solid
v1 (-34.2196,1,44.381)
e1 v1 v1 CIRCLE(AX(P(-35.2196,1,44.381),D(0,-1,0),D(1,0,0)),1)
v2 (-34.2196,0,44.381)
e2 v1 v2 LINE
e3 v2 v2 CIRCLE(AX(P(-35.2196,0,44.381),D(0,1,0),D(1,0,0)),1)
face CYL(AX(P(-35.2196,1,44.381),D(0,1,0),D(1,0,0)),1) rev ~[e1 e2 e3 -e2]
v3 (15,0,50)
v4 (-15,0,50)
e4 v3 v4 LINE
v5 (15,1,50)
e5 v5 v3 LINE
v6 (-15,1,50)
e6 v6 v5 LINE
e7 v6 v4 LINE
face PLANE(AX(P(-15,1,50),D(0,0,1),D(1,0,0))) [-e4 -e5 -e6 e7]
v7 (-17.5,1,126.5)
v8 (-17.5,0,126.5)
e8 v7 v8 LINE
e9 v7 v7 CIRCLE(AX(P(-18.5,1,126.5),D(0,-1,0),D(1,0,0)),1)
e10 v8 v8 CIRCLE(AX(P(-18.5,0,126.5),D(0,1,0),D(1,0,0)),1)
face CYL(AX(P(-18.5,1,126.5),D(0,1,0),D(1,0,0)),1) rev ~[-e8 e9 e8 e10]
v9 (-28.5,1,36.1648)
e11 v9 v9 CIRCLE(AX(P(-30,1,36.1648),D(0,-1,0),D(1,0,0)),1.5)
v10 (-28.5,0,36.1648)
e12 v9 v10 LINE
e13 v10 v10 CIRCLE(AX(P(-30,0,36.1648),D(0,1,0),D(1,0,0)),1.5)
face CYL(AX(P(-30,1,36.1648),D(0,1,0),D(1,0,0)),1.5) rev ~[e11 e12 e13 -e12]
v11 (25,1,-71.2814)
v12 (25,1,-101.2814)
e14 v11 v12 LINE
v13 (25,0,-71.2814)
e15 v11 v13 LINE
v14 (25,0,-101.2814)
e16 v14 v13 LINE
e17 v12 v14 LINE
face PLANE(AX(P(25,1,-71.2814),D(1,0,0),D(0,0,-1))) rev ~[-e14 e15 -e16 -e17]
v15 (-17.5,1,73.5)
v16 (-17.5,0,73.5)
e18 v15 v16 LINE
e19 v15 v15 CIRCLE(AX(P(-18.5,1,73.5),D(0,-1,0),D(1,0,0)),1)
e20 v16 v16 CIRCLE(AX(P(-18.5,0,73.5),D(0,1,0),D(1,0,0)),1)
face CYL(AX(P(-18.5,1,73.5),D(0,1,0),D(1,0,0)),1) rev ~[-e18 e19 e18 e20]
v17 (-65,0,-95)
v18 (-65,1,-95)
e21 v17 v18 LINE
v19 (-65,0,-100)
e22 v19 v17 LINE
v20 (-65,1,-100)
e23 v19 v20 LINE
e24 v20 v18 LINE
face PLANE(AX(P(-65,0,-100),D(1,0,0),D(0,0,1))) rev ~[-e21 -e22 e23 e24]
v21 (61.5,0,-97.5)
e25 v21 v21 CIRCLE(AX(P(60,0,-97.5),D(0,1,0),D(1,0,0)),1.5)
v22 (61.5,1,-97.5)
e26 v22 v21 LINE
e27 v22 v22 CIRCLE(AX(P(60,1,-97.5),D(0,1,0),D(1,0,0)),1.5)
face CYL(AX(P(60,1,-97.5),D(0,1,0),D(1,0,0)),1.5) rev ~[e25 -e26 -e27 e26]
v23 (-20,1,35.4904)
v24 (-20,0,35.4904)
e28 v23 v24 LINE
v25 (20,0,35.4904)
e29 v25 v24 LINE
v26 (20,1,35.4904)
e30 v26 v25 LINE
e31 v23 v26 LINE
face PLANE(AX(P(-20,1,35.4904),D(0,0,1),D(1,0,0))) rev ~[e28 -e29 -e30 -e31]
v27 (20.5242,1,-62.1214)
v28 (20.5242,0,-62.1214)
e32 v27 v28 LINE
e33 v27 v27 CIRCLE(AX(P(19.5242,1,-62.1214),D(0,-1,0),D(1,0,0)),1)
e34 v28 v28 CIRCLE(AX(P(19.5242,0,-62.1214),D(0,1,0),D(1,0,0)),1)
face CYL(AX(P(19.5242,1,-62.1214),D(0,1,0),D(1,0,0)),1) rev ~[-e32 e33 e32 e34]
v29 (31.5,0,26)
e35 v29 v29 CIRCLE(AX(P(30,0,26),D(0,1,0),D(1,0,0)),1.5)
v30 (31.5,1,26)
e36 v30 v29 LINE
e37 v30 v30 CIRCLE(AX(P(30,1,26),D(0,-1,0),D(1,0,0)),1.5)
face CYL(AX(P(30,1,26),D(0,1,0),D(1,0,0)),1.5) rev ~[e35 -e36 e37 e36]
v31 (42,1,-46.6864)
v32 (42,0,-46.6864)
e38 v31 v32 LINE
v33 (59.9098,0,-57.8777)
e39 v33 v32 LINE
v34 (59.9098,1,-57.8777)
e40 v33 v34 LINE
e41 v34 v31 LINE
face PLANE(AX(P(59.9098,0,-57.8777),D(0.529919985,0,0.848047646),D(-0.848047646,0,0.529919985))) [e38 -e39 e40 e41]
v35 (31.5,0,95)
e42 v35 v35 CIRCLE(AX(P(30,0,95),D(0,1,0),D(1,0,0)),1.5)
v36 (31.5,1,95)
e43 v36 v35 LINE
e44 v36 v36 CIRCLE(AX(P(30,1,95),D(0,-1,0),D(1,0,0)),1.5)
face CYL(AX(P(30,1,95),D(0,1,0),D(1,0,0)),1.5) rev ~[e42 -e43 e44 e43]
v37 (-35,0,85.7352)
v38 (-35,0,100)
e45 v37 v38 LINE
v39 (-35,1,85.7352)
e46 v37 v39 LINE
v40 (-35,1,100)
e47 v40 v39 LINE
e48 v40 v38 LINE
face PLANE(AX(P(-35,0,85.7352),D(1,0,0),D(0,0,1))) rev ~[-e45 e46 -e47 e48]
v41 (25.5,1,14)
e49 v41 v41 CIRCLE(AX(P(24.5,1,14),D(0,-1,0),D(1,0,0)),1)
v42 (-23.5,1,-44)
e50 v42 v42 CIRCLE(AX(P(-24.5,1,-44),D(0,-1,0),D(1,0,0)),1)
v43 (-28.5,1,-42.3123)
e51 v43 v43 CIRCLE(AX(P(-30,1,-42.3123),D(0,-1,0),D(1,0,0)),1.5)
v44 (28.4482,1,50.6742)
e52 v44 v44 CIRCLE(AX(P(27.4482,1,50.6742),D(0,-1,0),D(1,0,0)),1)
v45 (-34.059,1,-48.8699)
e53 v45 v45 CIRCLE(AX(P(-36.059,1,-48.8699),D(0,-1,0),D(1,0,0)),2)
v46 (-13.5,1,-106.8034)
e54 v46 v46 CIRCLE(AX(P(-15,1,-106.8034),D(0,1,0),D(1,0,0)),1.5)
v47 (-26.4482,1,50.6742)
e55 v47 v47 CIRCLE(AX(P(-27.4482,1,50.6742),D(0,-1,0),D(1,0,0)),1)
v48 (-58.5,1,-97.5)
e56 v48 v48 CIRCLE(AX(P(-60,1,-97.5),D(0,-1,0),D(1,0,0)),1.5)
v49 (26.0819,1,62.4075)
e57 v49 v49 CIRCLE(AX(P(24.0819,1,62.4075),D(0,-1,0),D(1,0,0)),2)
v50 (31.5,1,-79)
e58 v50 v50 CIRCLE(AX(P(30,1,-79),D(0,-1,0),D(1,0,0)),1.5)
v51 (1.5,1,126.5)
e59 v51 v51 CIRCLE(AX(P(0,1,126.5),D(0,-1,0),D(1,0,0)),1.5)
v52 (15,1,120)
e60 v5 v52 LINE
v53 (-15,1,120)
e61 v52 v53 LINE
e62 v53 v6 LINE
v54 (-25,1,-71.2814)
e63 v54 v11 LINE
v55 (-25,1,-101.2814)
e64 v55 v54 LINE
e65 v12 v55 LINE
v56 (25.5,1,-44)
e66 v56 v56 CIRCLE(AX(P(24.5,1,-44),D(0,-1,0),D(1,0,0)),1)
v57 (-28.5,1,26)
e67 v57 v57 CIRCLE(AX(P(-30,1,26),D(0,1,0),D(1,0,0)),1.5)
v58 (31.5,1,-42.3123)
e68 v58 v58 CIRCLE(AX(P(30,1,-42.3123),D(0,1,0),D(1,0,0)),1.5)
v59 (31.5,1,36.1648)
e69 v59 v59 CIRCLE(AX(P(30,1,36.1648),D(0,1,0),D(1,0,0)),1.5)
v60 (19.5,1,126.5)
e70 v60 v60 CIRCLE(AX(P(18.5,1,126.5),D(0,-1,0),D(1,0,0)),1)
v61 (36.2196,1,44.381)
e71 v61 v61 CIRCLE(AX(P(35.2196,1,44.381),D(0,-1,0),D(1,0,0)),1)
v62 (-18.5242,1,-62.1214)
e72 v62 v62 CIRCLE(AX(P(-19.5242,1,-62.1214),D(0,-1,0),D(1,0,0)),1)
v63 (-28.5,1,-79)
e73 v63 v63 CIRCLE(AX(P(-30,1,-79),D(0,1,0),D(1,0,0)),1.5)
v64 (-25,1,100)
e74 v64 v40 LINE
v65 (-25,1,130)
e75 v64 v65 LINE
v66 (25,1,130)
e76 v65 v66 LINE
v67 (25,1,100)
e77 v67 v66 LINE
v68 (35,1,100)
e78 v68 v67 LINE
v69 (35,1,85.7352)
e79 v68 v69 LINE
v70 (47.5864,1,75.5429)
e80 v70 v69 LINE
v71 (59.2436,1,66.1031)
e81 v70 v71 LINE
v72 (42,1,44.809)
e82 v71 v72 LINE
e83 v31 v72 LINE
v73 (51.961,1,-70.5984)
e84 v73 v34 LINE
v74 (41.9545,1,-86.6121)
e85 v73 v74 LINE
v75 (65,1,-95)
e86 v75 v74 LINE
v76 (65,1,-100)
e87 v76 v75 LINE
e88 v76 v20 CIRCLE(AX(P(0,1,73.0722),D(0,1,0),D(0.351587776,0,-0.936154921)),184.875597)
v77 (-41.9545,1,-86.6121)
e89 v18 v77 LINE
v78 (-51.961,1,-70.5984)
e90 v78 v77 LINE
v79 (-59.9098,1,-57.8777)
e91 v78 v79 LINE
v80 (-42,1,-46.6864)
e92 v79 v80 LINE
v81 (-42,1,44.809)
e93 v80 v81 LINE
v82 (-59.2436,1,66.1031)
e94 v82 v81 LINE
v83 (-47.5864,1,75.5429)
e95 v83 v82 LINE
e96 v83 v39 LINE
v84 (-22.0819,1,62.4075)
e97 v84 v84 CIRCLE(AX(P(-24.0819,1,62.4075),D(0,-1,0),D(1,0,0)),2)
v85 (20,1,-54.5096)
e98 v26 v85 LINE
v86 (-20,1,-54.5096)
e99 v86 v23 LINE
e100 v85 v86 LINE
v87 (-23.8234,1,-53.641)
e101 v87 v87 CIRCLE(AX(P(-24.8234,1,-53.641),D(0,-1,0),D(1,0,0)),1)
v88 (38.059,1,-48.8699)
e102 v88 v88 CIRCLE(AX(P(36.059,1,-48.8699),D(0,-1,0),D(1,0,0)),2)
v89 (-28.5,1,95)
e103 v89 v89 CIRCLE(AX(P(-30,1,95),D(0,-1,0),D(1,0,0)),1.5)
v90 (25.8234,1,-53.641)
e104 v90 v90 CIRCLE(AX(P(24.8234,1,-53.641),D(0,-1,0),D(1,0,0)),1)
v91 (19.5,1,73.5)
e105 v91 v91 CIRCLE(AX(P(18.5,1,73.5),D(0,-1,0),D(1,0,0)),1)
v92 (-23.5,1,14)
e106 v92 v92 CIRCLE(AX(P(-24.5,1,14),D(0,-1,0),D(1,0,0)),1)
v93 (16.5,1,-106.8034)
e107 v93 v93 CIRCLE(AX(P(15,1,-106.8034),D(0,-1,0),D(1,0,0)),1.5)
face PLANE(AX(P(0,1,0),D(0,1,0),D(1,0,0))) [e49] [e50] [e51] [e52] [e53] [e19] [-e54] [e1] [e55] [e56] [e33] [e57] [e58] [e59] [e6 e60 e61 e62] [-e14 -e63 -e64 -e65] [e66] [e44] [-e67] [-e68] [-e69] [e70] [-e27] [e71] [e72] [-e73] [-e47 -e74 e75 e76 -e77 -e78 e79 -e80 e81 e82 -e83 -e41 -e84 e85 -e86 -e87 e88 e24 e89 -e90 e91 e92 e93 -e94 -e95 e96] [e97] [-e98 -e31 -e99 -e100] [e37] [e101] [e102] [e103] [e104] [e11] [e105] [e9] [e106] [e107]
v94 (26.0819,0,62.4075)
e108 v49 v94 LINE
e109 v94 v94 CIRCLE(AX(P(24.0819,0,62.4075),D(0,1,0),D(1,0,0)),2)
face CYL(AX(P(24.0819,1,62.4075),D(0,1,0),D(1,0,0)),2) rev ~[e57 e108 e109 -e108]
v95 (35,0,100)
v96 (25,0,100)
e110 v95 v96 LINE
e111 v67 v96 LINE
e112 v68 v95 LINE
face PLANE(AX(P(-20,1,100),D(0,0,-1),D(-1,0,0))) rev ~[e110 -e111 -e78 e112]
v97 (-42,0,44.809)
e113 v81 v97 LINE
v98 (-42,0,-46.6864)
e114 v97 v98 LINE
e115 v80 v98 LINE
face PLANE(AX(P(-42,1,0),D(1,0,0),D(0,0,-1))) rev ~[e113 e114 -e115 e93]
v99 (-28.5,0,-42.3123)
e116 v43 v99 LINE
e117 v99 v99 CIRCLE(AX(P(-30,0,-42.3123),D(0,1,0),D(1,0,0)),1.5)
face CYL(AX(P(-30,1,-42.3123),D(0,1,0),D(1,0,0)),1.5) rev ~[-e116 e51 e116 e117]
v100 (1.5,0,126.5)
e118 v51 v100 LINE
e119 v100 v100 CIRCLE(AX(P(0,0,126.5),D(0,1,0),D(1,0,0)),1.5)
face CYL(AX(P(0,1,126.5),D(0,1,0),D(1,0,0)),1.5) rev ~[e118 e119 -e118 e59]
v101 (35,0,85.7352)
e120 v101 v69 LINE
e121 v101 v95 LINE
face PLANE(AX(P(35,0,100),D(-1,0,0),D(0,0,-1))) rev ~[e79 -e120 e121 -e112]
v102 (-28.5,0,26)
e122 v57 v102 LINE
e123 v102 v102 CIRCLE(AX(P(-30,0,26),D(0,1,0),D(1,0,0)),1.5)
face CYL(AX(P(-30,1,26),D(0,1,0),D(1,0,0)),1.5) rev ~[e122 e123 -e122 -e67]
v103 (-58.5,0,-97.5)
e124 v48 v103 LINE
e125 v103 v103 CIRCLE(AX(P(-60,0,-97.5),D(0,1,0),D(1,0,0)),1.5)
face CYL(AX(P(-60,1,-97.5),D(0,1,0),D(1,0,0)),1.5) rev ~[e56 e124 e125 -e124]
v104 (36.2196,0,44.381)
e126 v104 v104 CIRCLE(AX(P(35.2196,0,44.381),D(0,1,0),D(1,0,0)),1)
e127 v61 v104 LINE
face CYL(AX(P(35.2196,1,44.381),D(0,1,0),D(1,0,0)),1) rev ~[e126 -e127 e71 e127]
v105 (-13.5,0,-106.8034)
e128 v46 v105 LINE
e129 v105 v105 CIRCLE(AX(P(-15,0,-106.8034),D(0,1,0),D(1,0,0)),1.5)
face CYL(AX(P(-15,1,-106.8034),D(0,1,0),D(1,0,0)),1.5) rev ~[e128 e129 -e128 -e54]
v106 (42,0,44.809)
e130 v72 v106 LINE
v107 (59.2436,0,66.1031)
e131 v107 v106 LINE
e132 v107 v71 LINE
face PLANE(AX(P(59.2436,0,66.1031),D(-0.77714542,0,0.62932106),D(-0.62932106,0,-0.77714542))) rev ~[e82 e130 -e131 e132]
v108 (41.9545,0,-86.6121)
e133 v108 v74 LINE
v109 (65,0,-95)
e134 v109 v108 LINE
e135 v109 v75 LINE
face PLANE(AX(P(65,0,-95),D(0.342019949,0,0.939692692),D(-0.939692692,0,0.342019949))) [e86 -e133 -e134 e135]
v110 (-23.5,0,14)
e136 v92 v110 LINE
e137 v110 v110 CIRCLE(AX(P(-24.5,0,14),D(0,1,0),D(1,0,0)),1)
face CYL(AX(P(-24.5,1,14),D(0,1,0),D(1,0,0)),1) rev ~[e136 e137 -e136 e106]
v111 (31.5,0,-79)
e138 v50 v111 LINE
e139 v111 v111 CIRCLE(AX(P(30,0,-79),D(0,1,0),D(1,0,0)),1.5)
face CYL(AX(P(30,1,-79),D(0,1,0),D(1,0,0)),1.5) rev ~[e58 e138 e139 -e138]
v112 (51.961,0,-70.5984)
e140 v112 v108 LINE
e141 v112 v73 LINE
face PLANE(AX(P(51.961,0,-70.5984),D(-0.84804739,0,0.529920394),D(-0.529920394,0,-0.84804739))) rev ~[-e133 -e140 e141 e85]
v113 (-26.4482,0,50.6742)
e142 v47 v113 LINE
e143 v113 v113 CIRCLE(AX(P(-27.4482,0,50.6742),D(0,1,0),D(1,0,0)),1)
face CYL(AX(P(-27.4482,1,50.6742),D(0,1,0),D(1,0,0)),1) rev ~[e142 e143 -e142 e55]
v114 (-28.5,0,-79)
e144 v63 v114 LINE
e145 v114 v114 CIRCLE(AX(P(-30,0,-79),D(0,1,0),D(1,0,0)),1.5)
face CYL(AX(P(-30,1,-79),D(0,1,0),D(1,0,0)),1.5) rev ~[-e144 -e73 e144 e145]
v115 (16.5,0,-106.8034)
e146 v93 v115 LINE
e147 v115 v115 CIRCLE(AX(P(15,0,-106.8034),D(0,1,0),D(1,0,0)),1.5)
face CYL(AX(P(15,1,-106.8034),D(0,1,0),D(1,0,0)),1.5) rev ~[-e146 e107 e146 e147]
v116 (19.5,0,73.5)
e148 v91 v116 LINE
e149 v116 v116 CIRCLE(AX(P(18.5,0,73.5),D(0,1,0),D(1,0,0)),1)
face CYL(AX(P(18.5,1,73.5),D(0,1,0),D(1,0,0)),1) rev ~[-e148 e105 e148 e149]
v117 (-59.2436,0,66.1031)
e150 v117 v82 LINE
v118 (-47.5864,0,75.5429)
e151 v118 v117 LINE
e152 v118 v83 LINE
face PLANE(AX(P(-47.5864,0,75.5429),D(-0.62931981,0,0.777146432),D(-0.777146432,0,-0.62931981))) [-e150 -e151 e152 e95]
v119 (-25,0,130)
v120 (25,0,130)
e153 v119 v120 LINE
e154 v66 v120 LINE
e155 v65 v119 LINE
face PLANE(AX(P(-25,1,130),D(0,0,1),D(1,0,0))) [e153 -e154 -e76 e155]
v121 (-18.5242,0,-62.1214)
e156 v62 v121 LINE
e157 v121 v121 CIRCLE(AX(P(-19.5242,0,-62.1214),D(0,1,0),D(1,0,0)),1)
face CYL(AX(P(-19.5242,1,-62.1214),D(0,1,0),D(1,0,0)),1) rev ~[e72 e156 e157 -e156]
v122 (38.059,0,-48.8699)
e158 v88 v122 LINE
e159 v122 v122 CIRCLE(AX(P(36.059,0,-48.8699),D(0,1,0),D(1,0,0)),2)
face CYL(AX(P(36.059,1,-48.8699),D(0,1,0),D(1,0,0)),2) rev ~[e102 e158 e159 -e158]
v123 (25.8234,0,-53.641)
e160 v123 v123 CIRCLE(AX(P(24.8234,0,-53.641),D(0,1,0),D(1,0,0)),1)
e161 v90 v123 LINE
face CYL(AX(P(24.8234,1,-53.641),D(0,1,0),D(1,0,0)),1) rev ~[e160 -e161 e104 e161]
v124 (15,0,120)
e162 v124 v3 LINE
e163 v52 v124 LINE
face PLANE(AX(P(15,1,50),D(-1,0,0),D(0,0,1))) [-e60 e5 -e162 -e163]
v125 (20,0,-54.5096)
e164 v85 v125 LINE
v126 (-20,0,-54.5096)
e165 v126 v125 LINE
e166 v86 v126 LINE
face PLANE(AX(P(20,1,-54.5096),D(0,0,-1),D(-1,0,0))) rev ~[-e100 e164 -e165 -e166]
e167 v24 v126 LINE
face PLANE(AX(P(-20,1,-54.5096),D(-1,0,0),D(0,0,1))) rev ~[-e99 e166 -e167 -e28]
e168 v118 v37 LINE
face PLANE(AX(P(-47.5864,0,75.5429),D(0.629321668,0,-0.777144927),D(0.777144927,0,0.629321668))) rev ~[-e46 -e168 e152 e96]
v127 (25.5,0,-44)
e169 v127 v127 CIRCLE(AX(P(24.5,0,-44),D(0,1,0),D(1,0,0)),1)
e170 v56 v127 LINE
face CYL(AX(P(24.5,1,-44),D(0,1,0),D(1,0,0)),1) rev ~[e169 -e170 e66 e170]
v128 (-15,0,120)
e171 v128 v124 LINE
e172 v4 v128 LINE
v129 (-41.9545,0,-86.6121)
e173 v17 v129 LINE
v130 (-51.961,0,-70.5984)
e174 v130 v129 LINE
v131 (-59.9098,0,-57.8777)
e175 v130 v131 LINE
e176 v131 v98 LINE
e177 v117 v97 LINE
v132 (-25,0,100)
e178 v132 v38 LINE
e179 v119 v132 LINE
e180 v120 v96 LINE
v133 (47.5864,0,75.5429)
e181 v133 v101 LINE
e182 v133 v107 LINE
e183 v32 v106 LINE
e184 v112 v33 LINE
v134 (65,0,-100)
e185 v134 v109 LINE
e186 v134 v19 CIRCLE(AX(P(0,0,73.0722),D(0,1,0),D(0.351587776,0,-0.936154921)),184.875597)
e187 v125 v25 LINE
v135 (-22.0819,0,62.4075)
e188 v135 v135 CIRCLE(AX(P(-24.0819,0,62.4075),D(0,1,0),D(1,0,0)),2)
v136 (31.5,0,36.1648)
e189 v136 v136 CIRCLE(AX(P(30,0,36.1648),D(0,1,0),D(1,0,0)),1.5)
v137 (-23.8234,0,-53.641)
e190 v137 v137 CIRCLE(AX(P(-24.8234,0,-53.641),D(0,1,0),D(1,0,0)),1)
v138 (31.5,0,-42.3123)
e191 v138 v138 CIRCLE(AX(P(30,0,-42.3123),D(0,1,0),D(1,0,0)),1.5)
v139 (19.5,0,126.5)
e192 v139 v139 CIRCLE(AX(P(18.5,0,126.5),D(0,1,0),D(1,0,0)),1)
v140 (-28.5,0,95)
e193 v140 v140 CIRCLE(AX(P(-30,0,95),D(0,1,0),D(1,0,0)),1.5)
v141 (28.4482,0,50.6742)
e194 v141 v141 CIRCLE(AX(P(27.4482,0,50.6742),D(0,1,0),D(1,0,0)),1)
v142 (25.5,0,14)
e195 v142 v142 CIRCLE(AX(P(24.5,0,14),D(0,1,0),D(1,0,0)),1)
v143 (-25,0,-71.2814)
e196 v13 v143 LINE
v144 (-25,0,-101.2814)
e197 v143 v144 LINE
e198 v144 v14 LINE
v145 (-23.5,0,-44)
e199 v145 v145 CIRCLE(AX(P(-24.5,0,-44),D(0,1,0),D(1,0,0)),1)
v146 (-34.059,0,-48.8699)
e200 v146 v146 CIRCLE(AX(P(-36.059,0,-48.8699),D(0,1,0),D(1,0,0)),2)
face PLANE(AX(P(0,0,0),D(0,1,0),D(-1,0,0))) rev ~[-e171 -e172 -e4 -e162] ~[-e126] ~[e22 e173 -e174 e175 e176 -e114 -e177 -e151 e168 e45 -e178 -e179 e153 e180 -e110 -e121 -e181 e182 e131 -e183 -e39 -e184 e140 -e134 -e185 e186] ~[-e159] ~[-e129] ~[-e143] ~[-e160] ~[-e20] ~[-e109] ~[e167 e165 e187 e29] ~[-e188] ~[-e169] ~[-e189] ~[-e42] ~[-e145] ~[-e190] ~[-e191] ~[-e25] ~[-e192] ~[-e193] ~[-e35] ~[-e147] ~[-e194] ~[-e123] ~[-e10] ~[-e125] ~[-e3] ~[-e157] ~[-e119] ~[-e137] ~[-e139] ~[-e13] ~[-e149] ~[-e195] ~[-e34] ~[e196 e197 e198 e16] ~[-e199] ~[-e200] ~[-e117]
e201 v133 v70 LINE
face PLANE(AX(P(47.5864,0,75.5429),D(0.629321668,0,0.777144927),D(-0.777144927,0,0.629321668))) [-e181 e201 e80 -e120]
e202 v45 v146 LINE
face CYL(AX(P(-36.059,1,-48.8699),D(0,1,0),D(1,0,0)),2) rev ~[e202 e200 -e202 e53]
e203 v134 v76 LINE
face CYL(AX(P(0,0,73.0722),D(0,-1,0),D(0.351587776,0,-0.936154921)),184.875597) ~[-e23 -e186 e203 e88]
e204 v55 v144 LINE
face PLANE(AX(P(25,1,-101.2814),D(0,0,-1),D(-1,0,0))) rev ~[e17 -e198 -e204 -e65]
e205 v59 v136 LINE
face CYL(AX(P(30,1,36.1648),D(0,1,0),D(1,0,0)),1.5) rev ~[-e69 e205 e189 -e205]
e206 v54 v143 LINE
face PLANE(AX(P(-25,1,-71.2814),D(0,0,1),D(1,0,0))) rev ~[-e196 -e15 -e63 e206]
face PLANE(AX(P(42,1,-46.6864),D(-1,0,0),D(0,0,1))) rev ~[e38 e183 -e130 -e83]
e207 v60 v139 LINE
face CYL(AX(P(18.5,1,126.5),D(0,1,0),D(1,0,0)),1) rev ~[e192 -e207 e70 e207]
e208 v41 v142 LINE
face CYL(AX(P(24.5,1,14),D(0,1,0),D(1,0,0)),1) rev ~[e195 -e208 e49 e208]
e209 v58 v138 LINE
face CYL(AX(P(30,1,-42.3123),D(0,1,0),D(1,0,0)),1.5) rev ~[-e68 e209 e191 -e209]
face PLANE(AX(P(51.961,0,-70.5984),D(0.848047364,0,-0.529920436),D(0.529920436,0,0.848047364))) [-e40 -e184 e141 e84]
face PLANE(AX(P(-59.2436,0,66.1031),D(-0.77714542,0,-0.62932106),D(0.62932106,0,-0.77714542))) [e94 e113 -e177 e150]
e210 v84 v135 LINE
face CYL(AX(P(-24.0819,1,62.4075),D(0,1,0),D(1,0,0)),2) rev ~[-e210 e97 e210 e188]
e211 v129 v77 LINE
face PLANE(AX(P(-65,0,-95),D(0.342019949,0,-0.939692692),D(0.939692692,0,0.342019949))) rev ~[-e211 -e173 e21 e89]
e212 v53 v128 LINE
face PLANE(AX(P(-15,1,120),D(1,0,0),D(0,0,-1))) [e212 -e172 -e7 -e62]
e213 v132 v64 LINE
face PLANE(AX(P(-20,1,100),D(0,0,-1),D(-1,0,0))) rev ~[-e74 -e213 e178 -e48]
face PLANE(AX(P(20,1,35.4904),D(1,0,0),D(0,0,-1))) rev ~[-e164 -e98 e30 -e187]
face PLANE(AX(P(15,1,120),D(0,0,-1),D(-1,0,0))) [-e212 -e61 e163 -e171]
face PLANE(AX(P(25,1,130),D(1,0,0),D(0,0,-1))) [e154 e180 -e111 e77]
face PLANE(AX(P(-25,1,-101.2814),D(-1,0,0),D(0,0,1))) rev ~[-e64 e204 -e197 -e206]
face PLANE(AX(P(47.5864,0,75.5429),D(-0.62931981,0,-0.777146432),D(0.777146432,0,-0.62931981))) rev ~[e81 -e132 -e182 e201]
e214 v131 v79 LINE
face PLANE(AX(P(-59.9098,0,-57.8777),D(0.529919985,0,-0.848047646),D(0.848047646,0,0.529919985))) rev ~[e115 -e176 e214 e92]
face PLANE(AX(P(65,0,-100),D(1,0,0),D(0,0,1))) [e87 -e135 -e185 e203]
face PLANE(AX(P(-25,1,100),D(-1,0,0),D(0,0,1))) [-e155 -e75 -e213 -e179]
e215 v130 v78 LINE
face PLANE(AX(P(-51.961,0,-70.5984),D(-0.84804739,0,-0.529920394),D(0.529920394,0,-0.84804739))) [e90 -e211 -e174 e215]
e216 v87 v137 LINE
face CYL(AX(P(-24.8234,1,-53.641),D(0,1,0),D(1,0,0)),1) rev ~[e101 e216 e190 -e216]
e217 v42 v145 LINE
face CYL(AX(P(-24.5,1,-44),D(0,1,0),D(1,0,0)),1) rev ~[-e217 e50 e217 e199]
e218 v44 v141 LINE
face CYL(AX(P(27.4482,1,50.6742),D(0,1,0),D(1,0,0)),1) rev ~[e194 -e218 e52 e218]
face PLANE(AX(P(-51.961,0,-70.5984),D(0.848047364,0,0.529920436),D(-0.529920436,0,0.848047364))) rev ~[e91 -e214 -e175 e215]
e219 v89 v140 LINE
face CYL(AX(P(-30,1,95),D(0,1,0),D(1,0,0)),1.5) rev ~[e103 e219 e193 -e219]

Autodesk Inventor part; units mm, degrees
ref_plane "YZ Plane" through (0, 0, 0) normal (1, 0, 0) x (0, 1, 0)
ref_plane "XZ Plane" through (0, 0, 0) normal (0, 1, 0) x (-1, 0, 0)
ref_plane "XY Plane" through (0, 0, 0) normal (0, 0, 1) x (1, 0, 0)
sketch "Sketch1" plane through (0, 0, 0) normal (0, 1, 0) x (-1, 0, 0)
  circle A0 centre (0, 0) radius 165
  line L0 (35, 100) -> (-35, 100)
  line L1 (-35, 100) -> (-35, -100)
  line L2 (-35, -100) -> (35, -100)
  line L3 (35, -100) -> (35, 100)
  line L4 (35, 100) -> (-35, -100) construction
  line L5 (-35, 100) -> (35, -100) construction
  line L6 (35, -100) -> (65, -100)
  line L7 (-35, -100) -> (-65, -100)
  arc A1 (-65, -100) -> (65, -100) centre (0, 73.0722) ccw
  line L8 (120, 113.2475) -> (-120, -113.2475) construction
  line L9 (-120, 113.2475) -> (120, -113.2475) construction
  line L10 (35, -100) -> (35, -60)
  line L11 (-95, -134.9074) -> (95, 134.9074) construction
  line L12 (95, -134.9074) -> (-95, 134.9074) construction
  line L13 (65, -100) -> (65, -95)
  line L14 (65, -95) -> (35, -84.0809)
  line L15 (-65, -100) -> (-65, -95)
  line L16 (-65, -95) -> (-35, -84.0809)
  line L17 (35, -60) -> (51.961, -70.5984)
  line L18 (35, -60) -> (55, -60) construction
  line L19 (51.961, -70.5984) -> (41.9545, -86.6121)
  line L20 (51.961, -70.5984) -> (70.844, -70.5984) construction
  line L21 (51.961, -70.5984) -> (59.9098, -57.8777)
  line L22 (59.9098, -57.8777) -> (35, -42.3123)
  line L23 (-35, -100) -> (-35, -60)
  line L24 (-35, -60) -> (-51.961, -70.5984)
  line L25 (-35, -60) -> (-15, -60) construction
  line L26 (-51.961, -70.5984) -> (-41.9545, -86.6121)
  line L27 (-51.961, -70.5984) -> (-59.9098, -57.8777)
  line L28 (-59.9098, -57.8777) -> (-35, -42.3123)
  line L29 (-35, 100) -> (-35, 60)
  line L30 (35, 100) -> (35, 60)
  line L31 (-35, 60) -> (-47.5864, 75.5429)
  line L32 (-35, 60) -> (-15, 60) construction
  line L33 (35, 60) -> (47.5864, 75.5429)
  line L34 (35, 60) -> (55, 60) construction
  line L35 (47.5864, 75.5429) -> (35, 85.7352)
  line L36 (47.5864, 75.5429) -> (59.2436, 66.1031)
  line L37 (47.5864, 75.5429) -> (62.5864, 75.5429) construction
  line L38 (59.2436, 66.1031) -> (35, 36.1648)
  line L39 (35, 100) -> (35, 135)
  line L40 (35, 135) -> (20, 135)
  line L41 (20, 135) -> (20, 100)
  line L42 (-35, 100) -> (-35, 135)
  line L43 (-35, 135) -> (-20, 135)
  line L44 (-20, 135) -> (-20, 100)
  line L45 (-59.2436, 66.1031) -> (-20.7201, 66.1031) construction
  line L46 (-47.5864, 75.5429) -> (-35, 85.7352)
  line L47 (-47.5864, 75.5429) -> (-31.3907, 75.5429) construction
  line L48 (-47.5864, 75.5429) -> (-59.2436, 66.1031)
  line L49 (-47.5864, 75.5429) -> (-32.5864, 75.5429) construction
  line L50 (-59.2436, 66.1031) -> (-35, 36.1648)
  dimension "d0" = 330
  dimension "d2" = 70
  dimension "d3" = 200
  dimension "d4" = 30
  dimension "d5" = 30
  dimension "d6" = 240
  dimension "d8" = 40
  dimension "d9" = 190
  dimension "d10" = 5
  dimension "d11" = 110
  dimension "d12" = 5
  dimension "d13" = 110
  dimension "d14" = 20
  dimension "d15" = 32
  dimension "d16" = 122
  dimension "d17" = 15
  dimension "d18" = 40
  dimension "d19" = 20
  dimension "d20" = 148
  dimension "d21" = 90
  dimension "d22" = 15
  dimension "d23" = 40
  dimension "d24" = 40
  dimension "d25" = 20
  dimension "d26" = 129
  dimension "d29" = 20
  dimension "d30" = 51
  dimension "d31" = 15
  dimension "d32" = 39
  dimension "d33" = 90
  dimension "d34" = 35
  dimension "d35" = 15
  dimension "d36" = 90
  dimension "d37" = 35
  dimension "d38" = 15
  dimension "d39" = 90
  dimension "d41" = 39
  dimension "d42" = 15
  dimension "d43" = 141
  dimension "d44" = 90
extrude "Extrusion1" add sketch "Sketch1" along normal blind 1 contours L3 L2 L1 L0 | L0 L41 L40 L39 | L35 L33 L3 | L0 L42 L43 L44 | L33 L36 L38 L3 | L1 L31 L46 | L22 L21 L17 L3 | L1 L50 L48 L31 | L17 L19 L14 L3 | L14 L13 L6 L3 | L1 L24 L27 L28 | L6 A1 L7 L2 | L1 L16 L26 L24 | L7 L15 L16 L1
sketch "Sketch2" plane through (0, 1, 0) normal (0, 1, 0) x (1, 0, 0)
  line L0 (-59.9098, 57.8777) -> (-35, 42.3123) projected
  line L1 (-59.9098, 57.8777) -> (-51.961, 70.5984)
  line L2 (-41.9545, 86.6121) -> (-59.9098, 57.8777) projected
  line L3 (-51.961, 70.5984) -> (-30.7598, 57.3504)
  line L4 (-30.7598, 57.3504) -> (-36.059, 48.8699)
  line L5 (-30.7598, 57.3504) -> (-20.7598, 57.3504) construction
  circle A0 centre (-36.059, 48.8699) radius 2
  line L6 (35, 42.3123) -> (59.9098, 57.8777) projected
  line L7 (59.9098, 57.8777) -> (51.961, 70.5984)
  line L8 (59.9098, 57.8777) -> (41.9545, 86.6121) projected
  line L9 (51.961, 70.5984) -> (30.7598, 57.3504)
  line L10 (30.7598, 57.3504) -> (36.059, 48.8699)
  circle A1 centre (36.059, 48.8699) radius 2
  line L11 (35, -85.7352) -> (59.2436, -66.1031) projected
  line L12 (59.2436, -66.1031) -> (47.5864, -75.5429)
  line L13 (59.2436, -66.1031) -> (74.2436, -66.1031) construction
  line L14 (47.5864, -75.5429) -> (31.8534, -56.1143)
  line L15 (31.8534, -56.1143) -> (24.0819, -62.4075)
  circle A2 centre (24.0819, -62.4075) radius 2
  line L16 (-59.2436, -66.1031) -> (-35, -85.7352) projected
  line L17 (-59.2436, -66.1031) -> (-47.5864, -75.5429)
  line L18 (-59.2436, -66.1031) -> (-44.2436, -66.1031) construction
  line L19 (-47.5864, -75.5429) -> (-31.8534, -56.1143)
  line L20 (-31.8534, -56.1143) -> (-24.0819, -62.4075)
  circle A3 centre (-24.0819, -62.4075) radius 2
  point P0 (0, 0)
  dimension "d47" = 15
  dimension "d48" = 25
  dimension "d49" = 10
  dimension "d50" = 122
  dimension "d51" = 4
  dimension "d52" = 15
  dimension "d53" = 25
  dimension "d54" = 90
  dimension "d55" = 10
  dimension "d56" = 90
  dimension "d57" = 4
  dimension "d58" = 15
  dimension "d59" = 141
  dimension "d60" = 25
  dimension "d61" = 90
  dimension "d62" = 10
  dimension "d63" = 90
  dimension "d64" = 4
  dimension "d65" = 15
  dimension "d66" = 39
  dimension "d67" = 25
  dimension "d68" = 90
  dimension "d69" = 10
  dimension "d70" = 90
  dimension "d71" = 4
extrude "Extrusion2" cut sketch "Sketch2" against normal up to next
sketch "Sketch3" plane through (0, 1, 0) normal (0, 1, 0) x (1, 0, 0)
  line L0 (59.2436, -66.1031) -> (35, -36.1648) projected
  line L1 (59.2436, -66.1031) -> (40.9933, -43.5659)
  line L2 (40.9933, -43.5659) -> (39.1053, -41.2344)
  line L3 (39.1053, -41.2344) -> (35.2196, -44.381)
  line L4 (35.2196, -44.381) -> (27.4482, -50.6742)
  circle A0 centre (27.4482, -50.6742) radius 1
  circle A1 centre (35.2196, -44.381) radius 1
  point P0 (0, 0)
  dimension "d74" = 29
  dimension "d75" = 3
  dimension "d76" = 5
  dimension "d77" = 10
  dimension "d78" = 2
  dimension "d79" = 2
extrude "Extrusion3" cut sketch "Sketch3" against normal up to next
sketch "Sketch4" plane through (0, 1, 0) normal (0, 1, 0) x (1, 0, 0)
  line L0 (-59.2436, -66.1031) -> (-35, -85.7352) projected
  line L1 (-59.2436, -66.1031) -> (-39.1053, -41.2344)
  line L2 (-35, -36.1648) -> (-59.2436, -66.1031) projected
  line L3 (-39.1053, -41.2344) -> (-35.2196, -44.381)
  line L4 (-35.2196, -44.381) -> (-27.4482, -50.6742)
  circle A0 centre (-35.2196, -44.381) radius 1
  circle A1 centre (-27.4482, -50.6742) radius 1
  point P0 (0, 0)
  dimension "d82" = 32
  dimension "d83" = 5
  dimension "d84" = 90
  dimension "d85" = 10
  dimension "d86" = 180
  dimension "d87" = 2
  dimension "d88" = 2
extrude "Extrusion4" cut sketch "Sketch4" against normal up to next
sketch "Sketch5" plane through (0, 1, 0) normal (0, 1, 0) x (1, 0, 0)
  line L0 (59.9098, 57.8777) -> (41.9545, 86.6121) projected
  line L1 (59.9098, 57.8777) -> (44.0122, 83.3191)
  line L2 (59.9098, 57.8777) -> (89.9098, 57.8777) construction
  line L3 (44.0122, 83.3191) -> (16.8746, 66.3617)
  line L4 (16.8746, 66.3617) -> (19.5242, 62.1214)
  line L5 (19.5242, 62.1214) -> (24.8234, 53.641)
  circle A0 centre (19.5242, 62.1214) radius 1
  circle A1 centre (24.8234, 53.641) radius 1
  point P0 (0, 0)
  dimension "d91" = 30
  dimension "d92" = 122
  dimension "d93" = 32
  dimension "d94" = 90
  dimension "d95" = 5
  dimension "d96" = 10
  dimension "d97" = 2
  dimension "d98" = 2
extrude "Extrusion5" cut sketch "Sketch5" against normal up to next
sketch "Sketch6" plane through (0, 1, 0) normal (0, 1, 0) x (1, 0, 0)
  line L0 (-41.9545, 86.6121) -> (-59.9098, 57.8777) projected
  line L1 (-59.9098, 57.8777) -> (-44.0122, 83.3191)
  line L2 (-44.0122, 83.3191) -> (-16.8746, 66.3617)
  line L3 (-44.0122, 83.3191) -> (-12.0122, 83.3191) construction
  line L4 (-16.8746, 66.3617) -> (-19.5242, 62.1214)
  line L5 (-19.5242, 62.1214) -> (-24.8234, 53.641)
  circle A0 centre (-24.8234, 53.641) radius 1
  circle A1 centre (-19.5242, 62.1214) radius 1
  point P0 (0, 0)
  dimension "d101" = 30
  dimension "d106" = 32
  dimension "d107" = 32
  dimension "d108" = 5
  dimension "d109" = 10
  dimension "d110" = 2
  dimension "d111" = 2
extrude "Extrusion6" cut sketch "Sketch6" against normal up to next
sketch "Sketch7" plane through (0, 1, 0) normal (0, 1, 0) x (1, 0, 0)
  line L0 (-35, 42.3123) -> (-35, -36.1648) projected
  line L1 (-35, 42.3123) -> (-30, 42.3123)
  line L2 (35, -36.1648) -> (35, 42.3123) projected
  line L3 (35, 42.3123) -> (30, 42.3123)
  circle A0 centre (-30, 42.3123) radius 1.5
  circle A1 centre (30, 42.3123) radius 1.5
  point P0 (0, 0)
  dimension "d114" = 5
  dimension "d115" = 5
  dimension "d116" = 3
  dimension "d117" = 3
extrude "Extrusion7" cut sketch "Sketch7" against normal through all
sketch "Sketch8" plane through (0, 1, 0) normal (0, 1, 0) x (1, 0, 0)
  arc A0 (65, 100) -> (-65, 100) centre (0, -73.0722) ccw projected
  line L0 (0, 111.8034) -> (0, 106.8034)
  line L1 (0, 106.8034) -> (-15, 106.8034)
  line L2 (0, 106.8034) -> (15, 106.8034)
  circle A1 centre (-15, 106.8034) radius 1.5
  circle A2 centre (15, 106.8034) radius 1.5
  line L3 (-65, 100) -> (-65, 95) projected
  line L4 (-65, 97.5) -> (-60, 97.5)
  line L5 (65, 95) -> (65, 100) projected
  line L6 (65, 97.5) -> (60, 97.5)
  circle A3 centre (-60, 97.5) radius 1.5
  circle A4 centre (60, 97.5) radius 1.5
  point P0 (0, 0)
  dimension "d120" = 5
  dimension "d121" = 15
  dimension "d122" = 15
  dimension "d123" = 3
  dimension "d124" = 3
  dimension "d125" = 5
  dimension "d126" = 5
  dimension "d127" = 3
  dimension "d128" = 3
extrude "Extrusion8" cut sketch "Sketch8" against normal through all
sketch "Sketch9" plane through (0, 1, 0) normal (0, 1, 0) x (1, 0, 0)
  line L0 (-35, -135) -> (-20, -135) projected
  line L1 (-20, -100) -> (20, -100) projected
  line L2 (-35, -135) -> (-20, -135)
  line L3 (-20, -135) -> (-20, -100)
  line L4 (-20, -100) -> (-35, -100)
  line L5 (-35, -100) -> (-35, -135)
  line L6 (35, -135) -> (35, -85.7352) projected
  line L7 (20, -100) -> (35, -100)
  line L8 (35, -100) -> (35, -135)
  line L9 (35, -135) -> (20, -135)
  line L10 (20, -135) -> (20, -100)
  point P0 (0, 0)
extrude "Extrusion9" cut sketch "Sketch9" against normal up to next
sketch "Sketch10" plane through (0, 1, 0) normal (0, 1, 0) x (1, 0, 0)
  line L0 (-35, -36.1648) -> (-30, -36.1648)
  line L1 (35, -36.1648) -> (35, 42.3123) projected
  line L2 (35, -36.1648) -> (30, -36.1648)
  line L3 (35, -100) -> (35, -85.7352) projected
  line L4 (35, -100) -> (30, -100)
  line L5 (30, -100) -> (30, -95)
  line L6 (30, -95) -> (35, -95)
  line L7 (35, -95) -> (35, -100)
  line L8 (-35, -85.7352) -> (-35, -100) projected
  line L9 (-35, -100) -> (-30, -100)
  line L10 (-30, -100) -> (-30, -95)
  line L11 (-30, -95) -> (-35, -95)
  line L12 (-35, -95) -> (-35, -100)
  circle A0 centre (-30, -95) radius 1.5
  circle A1 centre (30, -95) radius 1.5
  circle A2 centre (30, -36.1648) radius 1.5
  circle A3 centre (-30, -36.1648) radius 1.5
  point P0 (0, 0)
  dimension "d133" = 5
  dimension "d134" = 5
  dimension "d135" = 5
  dimension "d136" = 5
  dimension "d137" = 5
  dimension "d138" = 5
  dimension "d139" = 3
  dimension "d140" = 3
  dimension "d141" = 3
  dimension "d142" = 3
extrude "Extrusion10" cut sketch "Sketch10" against normal through all contours A1 L5 L6 | L6 L5 A1 | A0 L10 L11 | L11 L10 A0 | A2 | A3
sketch "Sketch12" plane through (0, 1, 0) normal (0, 1, 0) x (1, 0, 0)
  line L0 (22.5, -35) -> (-22.5, -35)
  line L1 (-22.5, -35) -> (-22.5, 35)
  line L2 (-22.5, 35) -> (22.5, 35)
  line L3 (22.5, 35) -> (22.5, -35)
  line L4 (22.5, -35) -> (-22.5, 35) construction
  line L5 (-22.5, -35) -> (22.5, 35) construction
  line L6 (30, 75) -> (-30, 75)
  line L7 (-30, 75) -> (-30, 95)
  line L8 (-30, 95) -> (30, 95)
  line L9 (30, 95) -> (30, 75)
  line L10 (30, 75) -> (-30, 95) construction
  line L11 (-30, 75) -> (30, 95) construction
  line L12 (22.5, -90) -> (-22.5, -90)
  line L13 (-22.5, -90) -> (-22.5, -70)
  line L14 (-22.5, -70) -> (22.5, -70)
  line L15 (22.5, -70) -> (22.5, -90)
  line L16 (22.5, -90) -> (-22.5, -70) construction
  line L17 (-22.5, -90) -> (22.5, -70) construction
  point P0 (0, 0)
  point P1 (0, 85)
  point P2 (0, -80)
  dimension "d151" = 45
  dimension "d152" = 70
  dimension "d153" = 60
  dimension "d154" = 20
  dimension "d155" = 85
  dimension "d156" = 45
  dimension "d157" = 20
  dimension "d158" = 80
extrude "Extrusion12" cut sketch "Sketch12" against normal up to next
sketch "Sketch13" plane through (0, 1, 0) normal (0, 1, 0) x (1, 0, 0)
  line L0 (22.5, -90) -> (22.5, -70) projected
  line L1 (-22.5, -70) -> (22.5, -70) projected
  line L2 (22.5, -90) -> (-22.5, -90)
  line L3 (-22.5, -90) -> (-22.5, -70)
  line L4 (-22.5, -70) -> (22.5, -70)
  line L5 (22.5, -70) -> (22.5, -90)
  point P0 (0, 0)
extrude "Extrusion13" add sketch "Sketch13" against normal blind 1
sketch "Sketch14" plane through (0, 1, 0) normal (0, 1, 0) x (1, 0, 0)
  line L0 (35, -100) -> (-35, -100) projected
  line L1 (0, -100) -> (0, -70)
  line L2 (0, -70) -> (25, -70)
  line L3 (25, -70) -> (-25, -70)
  line L4 (-25, -70) -> (-25, -130)
  line L5 (-25, -130) -> (25, -130)
  line L6 (25, -130) -> (25, -70)
  point P0 (0, 0)
  dimension "d163" = 30
  dimension "d164" = 25
  dimension "d165" = 50
  dimension "d166" = 60
extrude "Extrusion14" add sketch "Sketch14" against normal blind 1
sketch "Sketch16" plane through (0, 1, 0) normal (0, 1, 0) x (1, 0, 0)
  line L0 (25, -130) -> (-25, -130) projected
  line L1 (0, -130) -> (0, -100)
  line L2 (-18.5, -73.5) -> (18.5, -73.5)
  line L3 (18.5, -73.5) -> (18.5, -126.5)
  line L4 (18.5, -126.5) -> (-18.5, -126.5)
  line L5 (-18.5, -126.5) -> (-18.5, -73.5)
  line L6 (-18.5, -73.5) -> (18.5, -126.5) construction
  line L7 (18.5, -73.5) -> (-18.5, -126.5) construction
  circle A0 centre (-18.5, -126.5) radius 1
  circle A1 centre (18.5, -73.5) radius 1
  circle A2 centre (-18.5, -73.5) radius 1
  circle A3 centre (18.5, -126.5) radius 1
  point P0 (0, 0)
  dimension "d169" = 30
  dimension "d170" = 37
  dimension "d171" = 53
  dimension "d172" = 2
  dimension "d173" = 2
  dimension "d174" = 2
  dimension "d175" = 2
extrude "Extrusion15" cut sketch "Sketch16" against normal blind 1 contours L5 A2 L2 | L2 A2 L5 | A1 L3 L2 | L2 L3 A1 | A0 L4 L5 | L5 L4 A0 | A3 L4 L3 | L3 L4 A3
sketch "Sketch17" plane through (0, 1, 0) normal (0, 1, 0) x (1, 0, 0)
  line L0 (-25, -130) -> (25, -130) projected
  line L1 (25, -130) -> (15, -130)
  line L2 (15, -130) -> (15, -120)
  line L3 (15, -120) -> (25, -120)
  line L4 (25, -120) -> (25, -130)
  line L5 (15, -120) -> (-15, -120)
  line L6 (-15, -120) -> (-15, -50)
  line L7 (-15, -50) -> (15, -50)
  line L8 (15, -50) -> (15, -120)
  point P0 (0, 0)
  dimension "d178" = 10
  dimension "d179" = 10
  dimension "d180" = 30
  dimension "d181" = 70
extrude "Extrusion16" cut sketch "Sketch17" against normal up to next contours L5 L6 L7 L8
sketch "Sketch18" plane through (0, 1, 0) normal (0, 1, 0) x (1, 0, 0)
  line L0 (22.5, -35) -> (22.5, 35) projected
  line L1 (-22.5, -35) -> (22.5, -35)
  line L2 (22.5, -35) -> (22.5, 35)
  line L3 (22.5, 35) -> (-22.5, 35)
  line L4 (-22.5, 35) -> (-22.5, -35)
  line L5 (-22.5, -35) -> (22.5, 35) construction
  line L6 (22.5, -35) -> (-22.5, 35) construction
  point P0 (0, 0)
extrude "Extrusion17" add sketch "Sketch18" against normal blind 1
sketch "Sketch19" plane through (0, 1, 0) normal (0, 1, 0) x (1, 0, 0)
  line L0 (-32, 38) -> (32, 38)
  line L1 (32, 38) -> (32, -32)
  line L2 (32, -32) -> (-32, -32)
  line L3 (-32, -32) -> (-32, 38)
  line L4 (-32, 38) -> (32, -32) construction
  line L5 (32, 38) -> (-32, -32) construction
  point P0 (0, 0)
  point P1 (0, 3)
  dimension "d186" = 64
  dimension "d187" = 70
  dimension "d188" = 3
extrude "Extrusion18" cut sketch "Sketch19" against normal blind 1
sketch "Sketch20" plane through (0, 1, 0) normal (0, 1, 0) x (1, 0, 0)
  line L0 (35, -36.1648) -> (35, 42.3123) projected
  line L1 (35, 42.3123) -> (59.9098, 57.8777) projected
  line L2 (-35, 42.3123) -> (-35, -36.1648) projected
  line L3 (-35, 0) -> (-42, 0)
  line L4 (-35, 0) -> (-28, 0) construction
  line L5 (-42, 0) -> (-42, -44.809)
  line L6 (-42, 0) -> (-42, 46.6864)
  line L7 (-59.9098, 57.8777) -> (-35, 42.3123) projected
  line L8 (42, 46.6864) -> (35, 42.3123)
  line L9 (35, -36.1648) -> (35, 42.3123) projected
  line L10 (35, 42.3123) -> (35, -36.1648)
  line L11 (35, -36.1648) -> (42, -44.809)
  line L12 (59.2436, -66.1031) -> (35, -36.1648) projected
  line L13 (-35, 42.3123) -> (-35, -36.1648) projected
  line L14 (-42, 46.6864) -> (-35, 42.3123)
  line L15 (-35, -36.1648) -> (-59.2436, -66.1031) projected
  line L16 (-35, 42.3123) -> (-35, -36.1648)
  line L17 (-35, -36.1648) -> (-42, -44.809)
  line L18 (-35, -36.1648) -> (-59.2436, -66.1031) projected
  line L19 (42, 46.6864) -> (42, -44.809)
  point P0 (0, 0)
  dimension "d193" = 7
  dimension "d194" = 180
  dimension "d195" = 90
extrude "Extrusion19" add sketch "Sketch20" against normal blind 1
sketch "Sketch22" plane through (0, 1, 0) normal (0, 1, 0) x (1, 0, 0)
  line L0 (32, -32) -> (-32, -32) projected
  line L1 (-32, -32) -> (-32, 38) projected
  line L2 (32, -32) -> (-32, -32)
  line L3 (-32, -32) -> (-32, 38)
  line L4 (-32, 38) -> (32, 38)
  line L5 (32, 38) -> (32, -32)
  point P0 (0, 0)
extrude "Extrusion21" add sketch "Sketch22" against normal blind 1
sketch "Sketch23" plane through (0, 1, 0) normal (0, 1, 0) x (1, 0, 0)
  line L0 (24.5, -14) -> (-24.5, -14)
  line L1 (-24.5, -14) -> (-24.5, 44)
  line L2 (-24.5, 44) -> (24.5, 44)
  line L3 (24.5, 44) -> (24.5, -14)
  line L4 (24.5, -14) -> (-24.5, 44) construction
  line L5 (-24.5, -14) -> (24.5, 44) construction
  circle A0 centre (-24.5, -14) radius 1
  circle A1 centre (-24.5, 44) radius 1
  circle A2 centre (24.5, -14) radius 1
  circle A3 centre (24.5, 44) radius 1
  point P0 (0, 0)
  point P1 (0, 15)
  dimension "d208" = 49
  dimension "d209" = 58
  dimension "d210" = 15
  dimension "d211" = 2
  dimension "d212" = 2
  dimension "d213" = 2
  dimension "d214" = 2
extrude "Extrusion22" cut sketch "Sketch23" against normal up to next contours A0 L1 L0 | L0 L1 A0 | A2 L3 L0 | L0 L3 A2 | A1 L2 L1 | L1 L2 A1 | A3 L2 L3 | L3 L2 A3
sketch "Sketch24" plane through (0, 1, 0) normal (0, 1, 0) x (1, 0, 0)
  line L0 (-30, 75) -> (30, 75) projected
  line L1 (30, 95) -> (-30, 95) projected
  line L2 (-30, 75) -> (30, 75)
  line L3 (30, 75) -> (30, 95)
  line L4 (30, 95) -> (-30, 95)
  line L5 (-30, 95) -> (-30, 75)
  point P0 (0, 0)
extrude "Extrusion23" add sketch "Sketch24" against normal blind 1
sketch "Sketch25" plane through (0, 1, 0) normal (0, 1, 0) x (1, 0, 0)
  line L0 (0, 79) -> (-30, 79)
  line L1 (0, 79) -> (30, 79)
  circle A0 centre (-24.5, 44) radius 1 projected
  circle A1 centre (-30, 79) radius 1.5
  circle A2 centre (30, 79) radius 1.5
  point P0 (0, 0)
  dimension "d219" = 30
  dimension "d220" = 30
  dimension "d221" = 35
  dimension "d222" = 3
  dimension "d223" = 3
extrude "Extrusion24" cut sketch "Sketch25" against normal up to next contours A1 | A2
sketch "Sketch26" plane through (0, 1, 0) normal (0, 1, 0) x (1, 0, 0)
  circle A0 centre (30, 79) radius 1.5 projected
  line L0 (30, 79) -> (30, -26)
  line L1 (30, -26) -> (-30, -26)
  circle A1 centre (-30, -26) radius 1.5
  circle A2 centre (30, -26) radius 1.5
  point P0 (0, 0)
  dimension "d226" = 105
  dimension "d227" = 60
  dimension "d228" = 3
  dimension "d229" = 3
extrude "Extrusion25" cut sketch "Sketch26" against normal up to next contours A1 | A2 L1 L0 | L0 L1 A2
sketch "Sketch27" plane through (0, 1, 0) normal (0, 1, 0) x (1, 0, 0)
  circle A0 centre (18.5, -126.5) radius 1 projected
  circle A1 centre (-18.5, -126.5) radius 1 projected
  line L0 (18.5, -126.5) -> (-18.5, -126.5)
  circle A2 centre (0, -126.5) radius 1.5
  point P0 (0, 0)
  dimension "d232" = 3
extrude "Extrusion26" cut sketch "Sketch27" against normal up to next contours A2 L0 | L0 A2
sketch "Sketch28" plane through (0, 1, 0) normal (0, 1, 0) x (1, 0, 0)
  line L0 (-25, 71.2814) -> (25, 71.2814)
  line L1 (25, 71.2814) -> (25, 101.2814)
  line L2 (25, 101.2814) -> (-25, 101.2814)
  line L3 (-25, 101.2814) -> (-25, 71.2814)
  line L4 (-25, 71.2814) -> (25, 101.2814) construction
  line L5 (25, 71.2814) -> (-25, 101.2814) construction
  line L6 (-20, -35.4904) -> (20, -35.4904)
  line L7 (20, -35.4904) -> (20, 54.5096)
  line L8 (20, 54.5096) -> (-20, 54.5096)
  line L9 (-20, 54.5096) -> (-20, -35.4904)
  line L10 (-20, -35.4904) -> (20, 54.5096) construction
  line L11 (20, -35.4904) -> (-20, 54.5096) construction
  point P0 (0, 0)
  point P1 (0, 86.2814)
  point P2 (0, 9.5096)
  dimension "d235" = 50
  dimension "d236" = 30
  dimension "d237" = 40
  dimension "d238" = 90
extrude "Extrusion27" cut sketch "Sketch28" against normal up to next
properties part number "baseplate" material "Nylon 6/6"
